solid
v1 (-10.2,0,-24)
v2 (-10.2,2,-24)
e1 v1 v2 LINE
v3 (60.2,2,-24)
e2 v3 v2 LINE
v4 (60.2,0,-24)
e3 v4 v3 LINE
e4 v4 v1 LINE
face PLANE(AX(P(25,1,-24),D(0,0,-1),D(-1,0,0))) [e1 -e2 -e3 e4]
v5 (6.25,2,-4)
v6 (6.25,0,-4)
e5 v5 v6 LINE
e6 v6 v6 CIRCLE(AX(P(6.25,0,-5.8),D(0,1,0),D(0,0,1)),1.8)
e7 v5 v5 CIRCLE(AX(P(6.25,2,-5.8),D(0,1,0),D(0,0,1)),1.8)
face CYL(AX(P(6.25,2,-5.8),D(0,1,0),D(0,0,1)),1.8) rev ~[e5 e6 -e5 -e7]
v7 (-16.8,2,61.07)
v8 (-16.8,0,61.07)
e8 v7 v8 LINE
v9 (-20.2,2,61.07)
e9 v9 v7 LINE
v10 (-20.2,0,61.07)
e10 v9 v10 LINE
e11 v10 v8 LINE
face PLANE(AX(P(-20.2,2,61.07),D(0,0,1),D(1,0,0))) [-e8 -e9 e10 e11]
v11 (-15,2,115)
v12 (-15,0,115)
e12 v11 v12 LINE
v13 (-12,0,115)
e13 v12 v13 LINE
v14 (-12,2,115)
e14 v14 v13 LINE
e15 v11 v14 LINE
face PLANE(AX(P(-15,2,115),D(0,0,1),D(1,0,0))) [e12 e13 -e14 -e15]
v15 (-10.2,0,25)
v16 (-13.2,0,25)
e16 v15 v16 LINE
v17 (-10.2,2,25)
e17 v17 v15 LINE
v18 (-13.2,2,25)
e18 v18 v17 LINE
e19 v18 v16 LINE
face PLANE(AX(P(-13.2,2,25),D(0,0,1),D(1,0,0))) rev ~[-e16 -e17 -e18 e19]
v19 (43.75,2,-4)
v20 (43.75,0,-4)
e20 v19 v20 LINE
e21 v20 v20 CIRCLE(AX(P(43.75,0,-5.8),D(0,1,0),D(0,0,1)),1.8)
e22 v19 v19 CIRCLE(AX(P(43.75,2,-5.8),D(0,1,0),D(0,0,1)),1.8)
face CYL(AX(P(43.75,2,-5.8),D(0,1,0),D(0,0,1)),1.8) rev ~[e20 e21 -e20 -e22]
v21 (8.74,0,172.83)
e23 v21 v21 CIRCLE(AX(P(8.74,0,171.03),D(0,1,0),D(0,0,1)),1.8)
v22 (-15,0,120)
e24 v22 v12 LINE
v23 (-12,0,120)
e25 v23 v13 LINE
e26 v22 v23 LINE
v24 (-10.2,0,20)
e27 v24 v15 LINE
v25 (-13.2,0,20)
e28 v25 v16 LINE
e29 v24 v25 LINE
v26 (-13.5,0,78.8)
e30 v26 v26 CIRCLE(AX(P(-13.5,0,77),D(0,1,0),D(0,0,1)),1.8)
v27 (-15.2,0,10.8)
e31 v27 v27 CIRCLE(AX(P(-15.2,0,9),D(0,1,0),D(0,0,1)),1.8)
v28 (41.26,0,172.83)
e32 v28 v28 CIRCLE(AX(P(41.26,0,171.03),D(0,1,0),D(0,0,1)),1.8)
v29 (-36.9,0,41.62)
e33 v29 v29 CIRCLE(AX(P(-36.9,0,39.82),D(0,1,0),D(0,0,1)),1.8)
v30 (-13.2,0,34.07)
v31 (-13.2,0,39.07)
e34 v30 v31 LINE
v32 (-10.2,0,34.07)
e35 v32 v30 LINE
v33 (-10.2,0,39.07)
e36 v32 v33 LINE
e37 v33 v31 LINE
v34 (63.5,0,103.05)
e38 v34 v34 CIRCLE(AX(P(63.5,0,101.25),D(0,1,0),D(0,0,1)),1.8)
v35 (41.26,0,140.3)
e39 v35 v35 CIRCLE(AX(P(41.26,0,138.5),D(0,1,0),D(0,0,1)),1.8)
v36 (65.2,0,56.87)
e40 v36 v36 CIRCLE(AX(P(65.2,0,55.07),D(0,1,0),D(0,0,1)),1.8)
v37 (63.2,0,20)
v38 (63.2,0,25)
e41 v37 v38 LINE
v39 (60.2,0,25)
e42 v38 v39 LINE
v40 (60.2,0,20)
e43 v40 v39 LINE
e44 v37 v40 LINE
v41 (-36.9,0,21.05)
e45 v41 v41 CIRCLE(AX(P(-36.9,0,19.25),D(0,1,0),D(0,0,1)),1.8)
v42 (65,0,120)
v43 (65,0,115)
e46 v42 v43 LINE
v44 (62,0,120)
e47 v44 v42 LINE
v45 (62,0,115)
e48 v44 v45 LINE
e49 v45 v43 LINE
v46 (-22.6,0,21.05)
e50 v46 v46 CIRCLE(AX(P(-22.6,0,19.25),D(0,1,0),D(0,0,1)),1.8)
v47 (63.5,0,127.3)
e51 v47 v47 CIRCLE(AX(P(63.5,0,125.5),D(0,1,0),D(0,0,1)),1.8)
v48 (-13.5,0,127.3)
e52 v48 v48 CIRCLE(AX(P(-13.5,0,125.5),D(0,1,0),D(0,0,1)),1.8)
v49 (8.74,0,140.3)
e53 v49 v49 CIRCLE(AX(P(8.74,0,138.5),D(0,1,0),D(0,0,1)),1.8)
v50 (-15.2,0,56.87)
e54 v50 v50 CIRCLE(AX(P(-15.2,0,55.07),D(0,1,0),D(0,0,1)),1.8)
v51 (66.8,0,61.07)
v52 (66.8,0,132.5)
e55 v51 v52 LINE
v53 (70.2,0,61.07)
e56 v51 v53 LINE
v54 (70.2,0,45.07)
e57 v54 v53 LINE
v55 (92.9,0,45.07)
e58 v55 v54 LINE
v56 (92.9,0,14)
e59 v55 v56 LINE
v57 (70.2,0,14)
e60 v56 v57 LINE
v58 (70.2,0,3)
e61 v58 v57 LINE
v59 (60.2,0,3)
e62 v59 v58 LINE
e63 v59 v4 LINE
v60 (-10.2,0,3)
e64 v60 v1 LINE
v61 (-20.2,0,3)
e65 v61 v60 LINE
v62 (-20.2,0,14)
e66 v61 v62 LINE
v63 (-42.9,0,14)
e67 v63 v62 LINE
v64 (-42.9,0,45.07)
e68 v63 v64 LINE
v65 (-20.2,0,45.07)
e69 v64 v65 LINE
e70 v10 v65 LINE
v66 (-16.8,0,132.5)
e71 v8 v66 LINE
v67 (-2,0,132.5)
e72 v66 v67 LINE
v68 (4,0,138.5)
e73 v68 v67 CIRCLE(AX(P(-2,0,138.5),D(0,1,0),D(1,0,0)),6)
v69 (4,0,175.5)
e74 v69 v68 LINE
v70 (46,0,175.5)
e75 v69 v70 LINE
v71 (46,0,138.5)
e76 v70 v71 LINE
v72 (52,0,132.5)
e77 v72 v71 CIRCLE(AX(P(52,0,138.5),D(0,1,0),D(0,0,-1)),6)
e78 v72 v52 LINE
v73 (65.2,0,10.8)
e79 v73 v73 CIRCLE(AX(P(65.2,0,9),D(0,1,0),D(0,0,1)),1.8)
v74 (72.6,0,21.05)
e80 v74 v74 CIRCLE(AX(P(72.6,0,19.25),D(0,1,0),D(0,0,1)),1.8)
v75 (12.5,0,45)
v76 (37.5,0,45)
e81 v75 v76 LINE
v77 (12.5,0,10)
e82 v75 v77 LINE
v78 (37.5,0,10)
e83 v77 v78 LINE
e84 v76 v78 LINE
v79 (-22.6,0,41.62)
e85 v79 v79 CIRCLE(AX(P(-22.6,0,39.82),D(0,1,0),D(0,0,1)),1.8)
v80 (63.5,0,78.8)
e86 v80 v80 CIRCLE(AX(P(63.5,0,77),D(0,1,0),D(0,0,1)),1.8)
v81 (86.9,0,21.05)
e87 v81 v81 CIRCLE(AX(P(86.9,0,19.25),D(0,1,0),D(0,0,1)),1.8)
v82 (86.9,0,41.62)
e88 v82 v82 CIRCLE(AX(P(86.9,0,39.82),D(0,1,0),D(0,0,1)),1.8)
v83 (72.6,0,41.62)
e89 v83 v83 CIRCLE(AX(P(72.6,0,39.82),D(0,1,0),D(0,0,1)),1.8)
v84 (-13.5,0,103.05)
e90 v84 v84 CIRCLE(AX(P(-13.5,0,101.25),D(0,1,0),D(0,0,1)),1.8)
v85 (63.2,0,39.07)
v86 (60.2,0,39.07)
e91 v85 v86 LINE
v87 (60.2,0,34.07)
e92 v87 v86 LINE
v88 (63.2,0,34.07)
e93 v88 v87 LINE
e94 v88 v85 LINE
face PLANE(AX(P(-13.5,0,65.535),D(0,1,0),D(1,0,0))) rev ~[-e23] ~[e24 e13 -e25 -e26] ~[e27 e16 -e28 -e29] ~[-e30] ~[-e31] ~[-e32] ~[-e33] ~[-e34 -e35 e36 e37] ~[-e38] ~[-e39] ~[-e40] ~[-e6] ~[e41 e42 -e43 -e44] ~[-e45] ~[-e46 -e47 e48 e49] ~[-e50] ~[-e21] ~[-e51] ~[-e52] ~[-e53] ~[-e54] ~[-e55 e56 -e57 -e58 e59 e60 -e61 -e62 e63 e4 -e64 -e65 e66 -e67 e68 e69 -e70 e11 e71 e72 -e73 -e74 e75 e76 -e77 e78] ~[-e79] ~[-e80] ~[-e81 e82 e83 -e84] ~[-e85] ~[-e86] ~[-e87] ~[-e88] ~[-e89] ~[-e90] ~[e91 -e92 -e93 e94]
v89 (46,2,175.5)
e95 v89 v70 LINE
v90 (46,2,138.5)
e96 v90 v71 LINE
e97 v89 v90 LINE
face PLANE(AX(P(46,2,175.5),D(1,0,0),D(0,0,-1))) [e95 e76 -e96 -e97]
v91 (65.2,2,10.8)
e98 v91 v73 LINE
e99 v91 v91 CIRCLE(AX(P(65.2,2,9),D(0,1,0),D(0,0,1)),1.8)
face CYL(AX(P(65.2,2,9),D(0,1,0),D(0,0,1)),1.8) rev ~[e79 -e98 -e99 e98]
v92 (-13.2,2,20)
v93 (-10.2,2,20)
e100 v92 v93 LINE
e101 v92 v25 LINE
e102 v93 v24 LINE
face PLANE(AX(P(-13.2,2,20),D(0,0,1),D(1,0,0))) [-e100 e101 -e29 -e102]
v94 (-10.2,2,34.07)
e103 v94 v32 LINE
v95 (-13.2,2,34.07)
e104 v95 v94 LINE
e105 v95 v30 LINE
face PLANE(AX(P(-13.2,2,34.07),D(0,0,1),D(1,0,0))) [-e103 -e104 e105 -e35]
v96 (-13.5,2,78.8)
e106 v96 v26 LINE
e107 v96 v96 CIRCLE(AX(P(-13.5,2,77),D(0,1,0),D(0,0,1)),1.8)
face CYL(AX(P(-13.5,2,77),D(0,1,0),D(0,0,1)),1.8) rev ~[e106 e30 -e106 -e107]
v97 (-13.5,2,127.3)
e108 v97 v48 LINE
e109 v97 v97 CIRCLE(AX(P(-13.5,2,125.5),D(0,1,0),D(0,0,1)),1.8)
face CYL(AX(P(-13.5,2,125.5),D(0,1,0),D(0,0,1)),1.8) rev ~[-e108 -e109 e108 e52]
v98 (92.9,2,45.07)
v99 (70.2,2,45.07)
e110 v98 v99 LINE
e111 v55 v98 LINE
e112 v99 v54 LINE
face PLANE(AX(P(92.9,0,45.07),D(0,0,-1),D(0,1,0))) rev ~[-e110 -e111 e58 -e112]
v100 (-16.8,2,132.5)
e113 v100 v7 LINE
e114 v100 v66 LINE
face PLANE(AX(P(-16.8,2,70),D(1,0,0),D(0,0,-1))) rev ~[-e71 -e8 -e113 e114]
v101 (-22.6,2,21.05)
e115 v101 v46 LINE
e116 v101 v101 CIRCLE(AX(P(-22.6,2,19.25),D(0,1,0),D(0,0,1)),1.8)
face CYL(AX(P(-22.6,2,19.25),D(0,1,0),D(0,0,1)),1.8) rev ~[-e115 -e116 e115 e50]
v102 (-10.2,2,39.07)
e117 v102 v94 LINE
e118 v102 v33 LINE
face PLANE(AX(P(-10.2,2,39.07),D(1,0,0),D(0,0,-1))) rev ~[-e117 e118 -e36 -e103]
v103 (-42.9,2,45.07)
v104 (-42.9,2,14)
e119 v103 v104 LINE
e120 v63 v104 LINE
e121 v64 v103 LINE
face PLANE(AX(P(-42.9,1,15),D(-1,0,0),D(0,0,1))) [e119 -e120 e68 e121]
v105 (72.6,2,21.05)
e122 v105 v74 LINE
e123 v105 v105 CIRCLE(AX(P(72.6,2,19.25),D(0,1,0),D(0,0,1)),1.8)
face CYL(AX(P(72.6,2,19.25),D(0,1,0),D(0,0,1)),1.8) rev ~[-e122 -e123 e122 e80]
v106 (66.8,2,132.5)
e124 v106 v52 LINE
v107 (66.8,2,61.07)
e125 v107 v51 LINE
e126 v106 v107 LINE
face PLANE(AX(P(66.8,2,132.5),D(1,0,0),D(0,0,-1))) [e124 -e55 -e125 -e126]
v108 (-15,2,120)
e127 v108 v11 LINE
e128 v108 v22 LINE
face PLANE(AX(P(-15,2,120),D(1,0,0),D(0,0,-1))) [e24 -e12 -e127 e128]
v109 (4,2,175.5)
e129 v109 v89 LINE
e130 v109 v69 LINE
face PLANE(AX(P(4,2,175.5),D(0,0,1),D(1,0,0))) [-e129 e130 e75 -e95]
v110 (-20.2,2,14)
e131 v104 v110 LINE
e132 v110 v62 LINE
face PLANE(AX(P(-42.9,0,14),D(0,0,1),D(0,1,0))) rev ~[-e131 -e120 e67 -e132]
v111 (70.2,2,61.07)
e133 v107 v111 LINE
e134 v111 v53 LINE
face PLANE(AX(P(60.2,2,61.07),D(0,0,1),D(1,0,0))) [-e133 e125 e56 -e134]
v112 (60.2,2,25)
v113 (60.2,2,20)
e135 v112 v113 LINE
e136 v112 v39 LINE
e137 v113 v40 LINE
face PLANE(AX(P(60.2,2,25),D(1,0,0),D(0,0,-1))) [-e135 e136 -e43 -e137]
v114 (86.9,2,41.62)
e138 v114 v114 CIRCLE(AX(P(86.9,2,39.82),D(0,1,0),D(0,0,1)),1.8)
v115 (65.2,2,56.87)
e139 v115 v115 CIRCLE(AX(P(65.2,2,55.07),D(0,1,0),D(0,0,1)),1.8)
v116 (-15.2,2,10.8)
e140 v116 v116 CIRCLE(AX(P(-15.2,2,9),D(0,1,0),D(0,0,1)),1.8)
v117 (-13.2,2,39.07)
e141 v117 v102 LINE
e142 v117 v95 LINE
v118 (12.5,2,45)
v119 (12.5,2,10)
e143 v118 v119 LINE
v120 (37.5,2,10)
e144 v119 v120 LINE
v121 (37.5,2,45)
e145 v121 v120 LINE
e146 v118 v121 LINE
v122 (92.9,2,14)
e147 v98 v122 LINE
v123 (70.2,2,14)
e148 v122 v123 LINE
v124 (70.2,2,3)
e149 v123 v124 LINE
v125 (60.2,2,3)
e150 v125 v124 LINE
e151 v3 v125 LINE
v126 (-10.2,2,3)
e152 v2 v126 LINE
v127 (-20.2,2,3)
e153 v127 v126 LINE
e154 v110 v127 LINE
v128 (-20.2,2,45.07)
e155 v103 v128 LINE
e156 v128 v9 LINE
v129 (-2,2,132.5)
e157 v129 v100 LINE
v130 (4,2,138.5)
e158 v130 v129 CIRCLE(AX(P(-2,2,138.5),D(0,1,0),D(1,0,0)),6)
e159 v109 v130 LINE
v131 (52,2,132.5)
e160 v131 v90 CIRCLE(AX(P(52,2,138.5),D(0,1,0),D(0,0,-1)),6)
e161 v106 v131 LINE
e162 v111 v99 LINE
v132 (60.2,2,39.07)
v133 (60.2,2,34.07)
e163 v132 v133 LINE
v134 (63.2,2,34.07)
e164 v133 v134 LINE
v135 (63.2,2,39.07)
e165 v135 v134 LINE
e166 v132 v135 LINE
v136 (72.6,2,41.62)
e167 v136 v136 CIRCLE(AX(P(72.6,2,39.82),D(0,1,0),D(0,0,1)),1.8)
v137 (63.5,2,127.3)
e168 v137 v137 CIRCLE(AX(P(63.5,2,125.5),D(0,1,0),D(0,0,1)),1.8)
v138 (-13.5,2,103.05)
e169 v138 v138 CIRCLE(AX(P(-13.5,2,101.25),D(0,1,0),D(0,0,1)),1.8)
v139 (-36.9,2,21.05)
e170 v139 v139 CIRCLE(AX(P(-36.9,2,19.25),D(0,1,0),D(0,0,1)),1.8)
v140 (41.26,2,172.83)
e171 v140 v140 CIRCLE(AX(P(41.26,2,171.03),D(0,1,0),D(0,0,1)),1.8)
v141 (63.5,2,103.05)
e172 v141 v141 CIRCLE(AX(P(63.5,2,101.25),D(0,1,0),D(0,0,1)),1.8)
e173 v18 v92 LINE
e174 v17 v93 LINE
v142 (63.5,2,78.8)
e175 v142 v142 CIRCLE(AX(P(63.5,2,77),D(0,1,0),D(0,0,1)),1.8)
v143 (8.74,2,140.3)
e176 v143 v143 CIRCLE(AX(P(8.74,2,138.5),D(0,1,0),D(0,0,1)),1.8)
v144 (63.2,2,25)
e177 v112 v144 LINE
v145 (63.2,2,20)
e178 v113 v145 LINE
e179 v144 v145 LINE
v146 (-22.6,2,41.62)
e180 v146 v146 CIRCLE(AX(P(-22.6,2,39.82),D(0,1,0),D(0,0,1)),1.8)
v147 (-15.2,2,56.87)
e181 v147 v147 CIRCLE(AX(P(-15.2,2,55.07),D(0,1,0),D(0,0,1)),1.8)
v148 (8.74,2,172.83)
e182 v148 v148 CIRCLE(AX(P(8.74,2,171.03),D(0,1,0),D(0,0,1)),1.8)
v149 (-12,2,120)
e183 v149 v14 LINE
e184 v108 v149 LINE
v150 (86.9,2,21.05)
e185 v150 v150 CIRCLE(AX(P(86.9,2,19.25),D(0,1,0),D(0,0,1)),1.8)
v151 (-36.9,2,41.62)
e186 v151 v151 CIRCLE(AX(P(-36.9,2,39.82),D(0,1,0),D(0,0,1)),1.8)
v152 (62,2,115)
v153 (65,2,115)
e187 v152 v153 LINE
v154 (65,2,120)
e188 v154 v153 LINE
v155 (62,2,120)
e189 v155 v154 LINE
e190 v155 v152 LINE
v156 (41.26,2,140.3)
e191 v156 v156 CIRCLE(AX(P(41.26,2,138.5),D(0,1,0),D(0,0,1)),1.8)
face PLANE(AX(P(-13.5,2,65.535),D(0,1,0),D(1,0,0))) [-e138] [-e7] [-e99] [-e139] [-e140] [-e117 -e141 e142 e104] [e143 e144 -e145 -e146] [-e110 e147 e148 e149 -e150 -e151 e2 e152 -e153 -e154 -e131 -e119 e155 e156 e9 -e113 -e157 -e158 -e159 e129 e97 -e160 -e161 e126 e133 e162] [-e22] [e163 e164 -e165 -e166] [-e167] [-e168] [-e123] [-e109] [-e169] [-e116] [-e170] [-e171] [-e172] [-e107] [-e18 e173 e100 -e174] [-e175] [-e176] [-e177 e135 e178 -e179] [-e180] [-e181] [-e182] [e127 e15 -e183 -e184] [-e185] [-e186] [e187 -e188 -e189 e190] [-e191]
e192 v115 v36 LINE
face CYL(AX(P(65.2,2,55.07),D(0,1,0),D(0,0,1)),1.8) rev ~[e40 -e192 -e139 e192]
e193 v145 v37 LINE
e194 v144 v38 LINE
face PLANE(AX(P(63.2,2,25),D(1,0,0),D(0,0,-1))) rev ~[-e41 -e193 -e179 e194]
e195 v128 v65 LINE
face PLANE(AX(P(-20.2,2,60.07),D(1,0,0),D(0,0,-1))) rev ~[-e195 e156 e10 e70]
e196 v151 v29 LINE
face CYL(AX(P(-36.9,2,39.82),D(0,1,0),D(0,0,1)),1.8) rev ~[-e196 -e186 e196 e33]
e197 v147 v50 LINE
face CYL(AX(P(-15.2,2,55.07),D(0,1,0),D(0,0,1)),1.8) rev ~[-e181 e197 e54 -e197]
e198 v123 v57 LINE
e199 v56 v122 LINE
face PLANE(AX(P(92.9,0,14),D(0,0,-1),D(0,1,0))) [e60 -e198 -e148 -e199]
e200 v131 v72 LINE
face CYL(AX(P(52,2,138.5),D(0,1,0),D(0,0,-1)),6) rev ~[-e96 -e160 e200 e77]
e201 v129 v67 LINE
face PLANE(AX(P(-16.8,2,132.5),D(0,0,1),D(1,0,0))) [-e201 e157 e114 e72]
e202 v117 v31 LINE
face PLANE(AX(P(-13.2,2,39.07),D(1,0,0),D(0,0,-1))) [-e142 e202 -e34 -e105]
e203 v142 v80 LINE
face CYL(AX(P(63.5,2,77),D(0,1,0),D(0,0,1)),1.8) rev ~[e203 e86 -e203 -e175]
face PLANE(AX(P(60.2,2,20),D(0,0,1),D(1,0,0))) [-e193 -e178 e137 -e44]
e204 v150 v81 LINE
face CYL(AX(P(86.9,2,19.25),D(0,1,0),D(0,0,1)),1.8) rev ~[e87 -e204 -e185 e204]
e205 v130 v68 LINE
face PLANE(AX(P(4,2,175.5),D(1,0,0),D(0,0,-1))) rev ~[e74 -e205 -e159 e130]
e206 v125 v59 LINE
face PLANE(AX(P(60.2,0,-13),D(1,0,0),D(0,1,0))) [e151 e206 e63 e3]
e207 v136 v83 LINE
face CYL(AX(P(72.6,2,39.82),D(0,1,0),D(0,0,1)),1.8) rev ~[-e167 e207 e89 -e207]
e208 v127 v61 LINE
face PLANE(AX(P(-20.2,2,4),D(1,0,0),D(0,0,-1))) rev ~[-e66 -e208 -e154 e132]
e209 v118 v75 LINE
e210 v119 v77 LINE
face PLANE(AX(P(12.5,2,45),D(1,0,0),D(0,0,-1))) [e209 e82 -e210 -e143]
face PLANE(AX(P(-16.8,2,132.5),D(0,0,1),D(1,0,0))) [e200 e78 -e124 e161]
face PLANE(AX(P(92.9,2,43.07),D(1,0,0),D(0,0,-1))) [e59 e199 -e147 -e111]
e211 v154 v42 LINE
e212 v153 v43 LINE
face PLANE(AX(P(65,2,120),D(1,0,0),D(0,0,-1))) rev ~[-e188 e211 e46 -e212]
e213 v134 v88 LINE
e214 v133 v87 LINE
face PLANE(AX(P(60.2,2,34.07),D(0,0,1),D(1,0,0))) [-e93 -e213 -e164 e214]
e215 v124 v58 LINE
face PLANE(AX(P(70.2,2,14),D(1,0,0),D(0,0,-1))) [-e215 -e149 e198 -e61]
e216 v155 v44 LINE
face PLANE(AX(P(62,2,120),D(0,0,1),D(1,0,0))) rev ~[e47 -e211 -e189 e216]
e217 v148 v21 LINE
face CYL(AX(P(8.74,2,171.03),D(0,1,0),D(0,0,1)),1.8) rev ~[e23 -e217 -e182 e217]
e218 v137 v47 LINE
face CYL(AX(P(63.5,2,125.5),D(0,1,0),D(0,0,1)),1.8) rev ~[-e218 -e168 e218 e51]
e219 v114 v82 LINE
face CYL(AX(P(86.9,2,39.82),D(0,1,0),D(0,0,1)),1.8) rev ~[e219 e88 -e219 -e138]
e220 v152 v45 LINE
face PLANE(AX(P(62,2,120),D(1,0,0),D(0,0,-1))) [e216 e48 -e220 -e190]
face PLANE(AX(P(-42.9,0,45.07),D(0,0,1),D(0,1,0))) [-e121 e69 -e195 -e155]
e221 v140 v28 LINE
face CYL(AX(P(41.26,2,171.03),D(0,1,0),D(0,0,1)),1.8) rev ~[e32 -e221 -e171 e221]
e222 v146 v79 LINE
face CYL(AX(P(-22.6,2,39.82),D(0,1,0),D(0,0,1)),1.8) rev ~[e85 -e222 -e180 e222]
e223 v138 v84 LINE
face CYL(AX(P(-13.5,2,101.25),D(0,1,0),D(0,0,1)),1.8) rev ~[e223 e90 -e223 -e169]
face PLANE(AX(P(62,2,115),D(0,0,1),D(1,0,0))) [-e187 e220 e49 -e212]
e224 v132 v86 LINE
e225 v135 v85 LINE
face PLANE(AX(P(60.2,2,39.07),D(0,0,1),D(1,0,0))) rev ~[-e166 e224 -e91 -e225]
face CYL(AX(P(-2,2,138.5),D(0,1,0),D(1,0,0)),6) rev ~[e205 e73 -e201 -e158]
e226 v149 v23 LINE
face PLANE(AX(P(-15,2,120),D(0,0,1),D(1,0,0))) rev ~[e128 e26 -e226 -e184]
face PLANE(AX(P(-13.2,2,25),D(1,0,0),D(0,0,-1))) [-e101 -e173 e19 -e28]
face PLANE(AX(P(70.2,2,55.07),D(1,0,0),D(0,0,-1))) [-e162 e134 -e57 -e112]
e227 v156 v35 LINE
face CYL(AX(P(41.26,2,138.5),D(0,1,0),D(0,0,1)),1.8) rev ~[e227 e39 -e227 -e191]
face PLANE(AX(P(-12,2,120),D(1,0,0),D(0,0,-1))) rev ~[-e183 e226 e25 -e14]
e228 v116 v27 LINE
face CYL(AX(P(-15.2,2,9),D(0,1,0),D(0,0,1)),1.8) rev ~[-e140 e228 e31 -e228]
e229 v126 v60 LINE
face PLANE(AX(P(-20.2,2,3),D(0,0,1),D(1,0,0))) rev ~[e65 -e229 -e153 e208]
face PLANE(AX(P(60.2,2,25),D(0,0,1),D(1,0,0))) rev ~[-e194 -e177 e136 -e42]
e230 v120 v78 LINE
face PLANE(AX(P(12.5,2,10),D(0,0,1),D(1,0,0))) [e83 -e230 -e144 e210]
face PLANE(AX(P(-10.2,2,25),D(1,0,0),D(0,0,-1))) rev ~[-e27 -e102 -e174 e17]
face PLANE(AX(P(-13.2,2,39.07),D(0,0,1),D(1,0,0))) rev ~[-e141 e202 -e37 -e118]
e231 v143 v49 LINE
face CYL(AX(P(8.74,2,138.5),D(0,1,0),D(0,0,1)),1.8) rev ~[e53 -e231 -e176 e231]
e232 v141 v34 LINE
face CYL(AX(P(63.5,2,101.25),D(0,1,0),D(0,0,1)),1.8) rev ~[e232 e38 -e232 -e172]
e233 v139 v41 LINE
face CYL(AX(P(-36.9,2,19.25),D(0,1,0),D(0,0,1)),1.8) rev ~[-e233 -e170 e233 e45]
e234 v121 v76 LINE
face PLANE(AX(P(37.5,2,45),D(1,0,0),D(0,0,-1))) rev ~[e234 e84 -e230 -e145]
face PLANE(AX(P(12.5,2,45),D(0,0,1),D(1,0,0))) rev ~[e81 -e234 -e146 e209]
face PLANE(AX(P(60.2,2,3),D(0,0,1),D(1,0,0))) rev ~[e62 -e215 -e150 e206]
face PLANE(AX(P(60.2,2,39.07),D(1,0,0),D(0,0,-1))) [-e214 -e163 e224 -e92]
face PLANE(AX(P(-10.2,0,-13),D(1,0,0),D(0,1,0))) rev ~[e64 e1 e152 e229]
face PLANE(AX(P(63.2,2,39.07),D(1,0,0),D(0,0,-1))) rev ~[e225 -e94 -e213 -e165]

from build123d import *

# Parameters (mm, degrees)
SKETCH1_W            = 50
SKETCH1_H            = 9.1
BOSS_EXTRUDE1_DEPTH  = 2
SKETCH2_W            = 25
SKETCH2_H            = 6.6
CUT_EXTRUDE1_DEPTH   = 2
SKETCH3_R            = 1.8
CUT_EXTRUDE2_DEPTH   = 2
SKETCH4_W            = 66.4
SKETCH4_H            = 130
BOSS_EXTRUDE2_DEPTH  = 2
SKETCH5_W            = 66.4
SKETCH5_H            = 2
BOSS_EXTRUDE3_DEPTH  = 2.5
SKETCH6_W            = 8.6
SKETCH6_H            = 62.5
BOSS_EXTRUDE4_DEPTH  = 2
SKETCH7_R            = 1.8
SKETCH7_W            = 3
SKETCH7_H            = 5
CUT_EXTRUDE3_DEPTH   = 2
SKETCH8_W            = 25
SKETCH8_H            = 45
CUT_EXTRUDE4_DEPTH   = 20
SKETCH9_W            = 25
SKETCH9_H            = 10
BOSS_EXTRUDE5_DEPTH  = 2
SKETCH10_W           = 34.7
SKETCH10_H           = 27.07
BOSS_EXTRUDE6_DEPTH  = 2
SKETCH11_R           = 1.8
CUT_EXTRUDE5_DEPTH   = 2
SKETCH12_R           = 1.8
CUT_EXTRUDE6_DEPTH   = 2
SKETCH13_W           = 2
SKETCH13_H           = 2
BOSS_EXTRUDE7_DEPTH  = 44
SKETCH14_W           = 2
SKETCH14_H           = 2
BOSS_EXTRUDE8_DEPTH  = 46
SKETCH16_W           = 42
SKETCH16_H           = 43
BOSS_EXTRUDE10_DEPTH = 2
SKETCH18_R           = 1.8
CUT_EXTRUDE7_DEPTH   = 2
BOSS_EXTRUDE12_DEPTH = 2
SKETCH21_W           = 2
SKETCH21_H           = 2
BOSS_EXTRUDE13_DEPTH = 10
SKETCH25_W           = 3
SKETCH25_H           = 5
CUT_EXTRUDE8_DEPTH   = 10
SKETCH26_W           = 6.2
SKETCH26_H           = 13
SKETCH26_W_2         = 21
SKETCH26_H_2         = 6.6
BOSS_EXTRUDE14_DEPTH = 2
SKETCH27_W           = 2
SKETCH27_H           = 27
SKETCH27_H_2         = 24.93
BOSS_EXTRUDE15_DEPTH = 2
SKETCH29_W           = 10
SKETCH29_H           = 10
BOSS_EXTRUDE19_DEPTH = 2
SKETCH41_R           = 1.8
CUT_EXTRUDE15_DEPTH  = 2
BOSS_EXTRUDE26_DEPTH = 2
SKETCH43_W           = 70.4
SKETCH43_H           = 2
BOSS_EXTRUDE27_DEPTH = 11
SKETCH44_W           = 10
SKETCH44_H           = 5
BOSS_EXTRUDE28_DEPTH = 2
SKETCH45_R           = 1.8
BOSS_EXTRUDE29_DEPTH = 2
SKETCH46_R           = 1.8
CUT_EXTRUDE16_DEPTH  = 2
SKETCH47_W           = 10
SKETCH47_H           = 1
BOSS_EXTRUDE30_DEPTH = 2
SKETCH48_W           = 6.6
SKETCH48_H           = 8.93
BOSS_EXTRUDE31_DEPTH = 2


with BuildPart() as part:
    # Sketch1 → Boss-Extrude1 (new body)
    with BuildSketch(Plane(origin=(0, 0, 0), x_dir=(1, 0, 0), z_dir=(0, 1, 0))):
        with Locations((25, 4.55)):
            Rectangle(SKETCH1_W, SKETCH1_H)
    extrude(amount=BOSS_EXTRUDE1_DEPTH)

    # Sketch2 → Cut-Extrude1 (cut)
    with BuildSketch(Plane(origin=(0, 2, 0), x_dir=(1, 0, 0), z_dir=(0, 1, 0))):
        with Locations((25, 5.8)):
            Rectangle(SKETCH2_W, SKETCH2_H)
    extrude(amount=-CUT_EXTRUDE1_DEPTH, mode=Mode.SUBTRACT)

    # Sketch3 → Cut-Extrude2 (cut)
    with BuildSketch(Plane(origin=(0, 2, 0), x_dir=(1, 0, 0), z_dir=(0, 1, 0))):
        with Locations(Location((6.25, 5.8, 0), (0, 0, 270))):
            Circle(SKETCH3_R)
        with Locations(Location((43.75, 5.8, 0), (0, 0, 270))):
            Circle(SKETCH3_R)
    extrude(amount=-CUT_EXTRUDE2_DEPTH, mode=Mode.SUBTRACT)

    # Sketch4 → Boss-Extrude2 (add)
    with BuildSketch(Plane(origin=(0, 2, 0), x_dir=(1, 0, 0), z_dir=(0, 1, 0))):
        with Locations((25, -65)):
            Rectangle(SKETCH4_W, SKETCH4_H)
    extrude(amount=-BOSS_EXTRUDE2_DEPTH)

    # Sketch5 → Boss-Extrude3 (add)
    with BuildSketch(Plane.XY.offset(130)):
        with Locations((25, 1)):
            Rectangle(SKETCH5_W, SKETCH5_H)
    extrude(amount=BOSS_EXTRUDE3_DEPTH)

    # Sketch6 → Boss-Extrude4 (add)
    with BuildSketch(Plane(origin=(0, 2, 0), x_dir=(1, 0, 0), z_dir=(0, 1, 0))):
        with Locations((-12.5, -101.25)):
            Rectangle(SKETCH6_W, SKETCH6_H)
        with Locations((62.5, -101.25)):
            Rectangle(SKETCH6_W, SKETCH6_H)
    extrude(amount=-BOSS_EXTRUDE4_DEPTH)

    # Sketch7 → Cut-Extrude3 (cut)
    with BuildSketch(Plane(origin=(0, 2, 0), x_dir=(1, 0, 0), z_dir=(0, 1, 0))):
        with Locations(Location((-13.5, -77, 0), (0, 0, 270))):
            Circle(SKETCH7_R)
        with Locations(Location((-13.5, -101.25, 0), (0, 0, 270))):
            Circle(SKETCH7_R)
        with Locations(Location((-13.5, -125.5, 0), (0, 0, 270))):
            Circle(SKETCH7_R)
        with Locations(Location((63.5, -77, 0), (0, 0, 270))):
            Circle(SKETCH7_R)
        with Locations(Location((63.5, -101.25, 0), (0, 0, 270))):
            Circle(SKETCH7_R)
        with Locations(Location((63.5, -125.5, 0), (0, 0, 270))):
            Circle(SKETCH7_R)
        with Locations((-13.5, -117.5)):
            Rectangle(SKETCH7_W, SKETCH7_H)
        with Locations((63.5, -117.5)):
            Rectangle(SKETCH7_W, SKETCH7_H)
    extrude(amount=-CUT_EXTRUDE3_DEPTH, mode=Mode.SUBTRACT)

    # Sketch8 → Cut-Extrude4 (cut)
    with BuildSketch(Plane(origin=(0, 2, 0), x_dir=(1, 0, 0), z_dir=(0, 1, 0))):
        with Locations((25, -22.5)):
            Rectangle(SKETCH8_W, SKETCH8_H)
    extrude(amount=-CUT_EXTRUDE4_DEPTH, mode=Mode.SUBTRACT)

    # Sketch9 → Boss-Extrude5 (add)
    with BuildSketch(Plane(origin=(0, 2, 0), x_dir=(1, 0, 0), z_dir=(0, 1, 0))):
        with Locations((25, -5)):
            Rectangle(SKETCH9_W, SKETCH9_H)
    extrude(amount=-BOSS_EXTRUDE5_DEPTH)

    # Sketch10 → Boss-Extrude6 (add)
    with BuildSketch(Plane(origin=(0, 2, 0), x_dir=(1, 0, 0), z_dir=(0, 1, 0))):
        with Locations((-25.55, -29.535)):
            Rectangle(SKETCH10_W, SKETCH10_H)
        with Locations((75.55, -29.535)):
            Rectangle(SKETCH10_W, SKETCH10_H)
    extrude(amount=-BOSS_EXTRUDE6_DEPTH)

    # Sketch11 → Cut-Extrude5 (cut)
    with BuildSketch(Plane(origin=(0, 2, 0), x_dir=(1, 0, 0), z_dir=(0, 1, 0))):
        with Locations(Location((-36.9, -19.25, 0), (0, 0, 270))):
            Circle(SKETCH11_R)
        with Locations(Location((-36.9, -39.82, 0), (0, 0, 270))):
            Circle(SKETCH11_R)
        with Locations(Location((-22.6, -19.25, 0), (0, 0, 270))):
            Circle(SKETCH11_R)
        with Locations(Location((-22.6, -39.82, 0), (0, 0, 270))):
            Circle(SKETCH11_R)
    extrude(amount=-CUT_EXTRUDE5_DEPTH, mode=Mode.SUBTRACT)

    # Sketch12 → Cut-Extrude6 (cut)
    with BuildSketch(Plane(origin=(0, 2, 0), x_dir=(1, 0, 0), z_dir=(0, 1, 0))):
        with Locations(Location((72.6, -19.25, 0), (0, 0, 270))):
            Circle(SKETCH12_R)
        with Locations(Location((86.9, -19.25, 0), (0, 0, 270))):
            Circle(SKETCH12_R)
        with Locations(Location((72.6, -39.82, 0), (0, 0, 270))):
            Circle(SKETCH12_R)
        with Locations(Location((86.9, -39.82, 0), (0, 0, 270))):
            Circle(SKETCH12_R)
    extrude(amount=-CUT_EXTRUDE6_DEPTH, mode=Mode.SUBTRACT)

    # Sketch13 → Boss-Extrude7 (add)
    with BuildSketch(Plane.ZY.offset(42.9)):
        with Locations((15, 1)):
            Rectangle(SKETCH13_W, SKETCH13_H)
        with Locations((44.07, 1)):
            Rectangle(SKETCH13_W, SKETCH13_H)
    extrude(amount=-BOSS_EXTRUDE7_DEPTH)

    # Sketch14 → Boss-Extrude8 (add)
    with BuildSketch(Plane(origin=(92.9, 0, 0), x_dir=(0, 0, -1), z_dir=(1, 0, 0))):
        with Locations((-15, 1)):
            Rectangle(SKETCH14_W, SKETCH14_H)
        with Locations((-44.07, 1)):
            Rectangle(SKETCH14_W, SKETCH14_H)
    extrude(amount=-BOSS_EXTRUDE8_DEPTH)

    # Sketch16 → Boss-Extrude10 (add)
    with BuildSketch(Plane(origin=(0, 2, 0), x_dir=(1, 0, 0), z_dir=(0, 1, 0))):
        with Locations((25, -154)):
            Rectangle(SKETCH16_W, SKETCH16_H)
    extrude(amount=-BOSS_EXTRUDE10_DEPTH)

    # Sketch18 → Cut-Extrude7 (cut)
    with BuildSketch(Plane(origin=(0, 2, 0), x_dir=(1, 0, 0), z_dir=(0, 1, 0))):
        with Locations(Location((8.74, -171.03, 0), (0, 0, 270))):
            Circle(SKETCH18_R)
        with Locations(Location((41.26, -171.03, 0), (0, 0, 270))):
            Circle(SKETCH18_R)
        with Locations(Location((8.74, -138.5, 0), (0, 0, 270))):
            Circle(SKETCH18_R)
        with Locations(Location((41.26, -138.5, 0), (0, 0, 270))):
            Circle(SKETCH18_R)
    extrude(amount=-CUT_EXTRUDE7_DEPTH, mode=Mode.SUBTRACT)

    # Sketch20 → Boss-Extrude12 (add)
    with BuildSketch(Plane(origin=(0, 2, 0), x_dir=(1, 0, 0), z_dir=(0, 1, 0))):
        with BuildLine():
            Line((-2, -132.5), (4, -132.5))
            Line((4, -132.5), (4, -138.5))
            ThreePointArc((4, -138.5), (2.242640687, -134.257359313), (-2, -132.5))
        make_face()
        with BuildLine():
            ThreePointArc((52, -132.5), (47.757359313, -134.257359313), (46, -138.5))
            Line((46, -138.5), (46, -132.5))
            Line((46, -132.5), (52, -132.5))
        make_face()
    extrude(amount=-BOSS_EXTRUDE12_DEPTH)

    # Sketch21 → Boss-Extrude13 (add)
    with BuildSketch(Plane(origin=(0, 0, -9.1), x_dir=(-1, 0, 0), z_dir=(0, 0, -1))):
        with Locations((-51, 1)):
            Rectangle(SKETCH21_W, SKETCH21_H)
        with Locations((-36.5, 1)):
            Rectangle(SKETCH21_W, SKETCH21_H)
        with Locations((-13.5, 1)):
            Rectangle(SKETCH21_W, SKETCH21_H)
        with Locations((1, 1)):
            Rectangle(SKETCH21_W, SKETCH21_H)
    extrude(amount=-BOSS_EXTRUDE13_DEPTH)

    # Sketch25 → Cut-Extrude8 (cut)
    with BuildSketch(Plane(origin=(0, 2, 0), x_dir=(1, 0, 0), z_dir=(0, 1, 0))):
        with Locations((-11.7, -22.5)):
            Rectangle(SKETCH25_W, SKETCH25_H)
        with Locations((-11.7, -36.57)):
            Rectangle(SKETCH25_W, SKETCH25_H)
        with Locations((61.7, -22.5)):
            Rectangle(SKETCH25_W, SKETCH25_H)
        with Locations((61.7, -36.57)):
            Rectangle(SKETCH25_W, SKETCH25_H)
    extrude(amount=-CUT_EXTRUDE8_DEPTH, mode=Mode.SUBTRACT)

    # Sketch26 → Boss-Extrude14 (add)
    with BuildSketch(Plane(origin=(0, 2, 0), x_dir=(1, 0, 0), z_dir=(0, 1, 0))):
        with Locations((-5.1, 6.5)):
            Rectangle(SKETCH26_W, SKETCH26_H)
        Polygon((-2, 13), (-2, 9.1), (14.5, 9.1), (35.5, 9.1), (52, 9.1), (52, 13), align=None)
        with Locations((25, 5.8)):
            Rectangle(SKETCH26_W_2, SKETCH26_H_2)
        with Locations((55.1, 6.5)):
            Rectangle(SKETCH26_W, SKETCH26_H)
    extrude(amount=-BOSS_EXTRUDE14_DEPTH)

    # Sketch27 → Boss-Extrude15 (add)
    with BuildSketch(Plane(origin=(0, 2, 0), x_dir=(1, 0, 0), z_dir=(0, 1, 0))):
        with Locations((-9.2, -0.5)):
            Rectangle(SKETCH27_W, SKETCH27_H)
        with Locations((-9.2, -57.535)):
            Rectangle(SKETCH27_W, SKETCH27_H_2)
        with Locations((59.2, -0.5)):
            Rectangle(SKETCH27_W, SKETCH27_H)
        with Locations((59.2, -57.535)):
            Rectangle(SKETCH27_W, SKETCH27_H_2)
    extrude(amount=-BOSS_EXTRUDE15_DEPTH)

    # Sketch29 → Boss-Extrude19 (add)
    with BuildSketch(Plane(origin=(0, 2, 0), x_dir=(1, 0, 0), z_dir=(0, 1, 0))):
        with Locations((-15.2, -9)):
            Rectangle(SKETCH29_W, SKETCH29_H)
        with Locations((-15.2, -50.07)):
            Rectangle(SKETCH29_W, SKETCH29_H)
        with Locations((65.2, -9)):
            Rectangle(SKETCH29_W, SKETCH29_H)
        with Locations((65.2, -50.07)):
            Rectangle(SKETCH29_W, SKETCH29_H)
    extrude(amount=-BOSS_EXTRUDE19_DEPTH)

    # Sketch41 → Cut-Extrude15 (cut)
    with BuildSketch(Plane(origin=(0, 2, 0), x_dir=(1, 0, 0), z_dir=(0, 1, 0))):
        with Locations(Location((-15.2, -9, 0), (0, 0, 270))):
            Circle(SKETCH41_R)
        with Locations(Location((-15.2, -50.07, 0), (0, 0, 270))):
            Circle(SKETCH41_R)
        with Locations(Location((65.2, -9, 0), (0, 0, 270))):
            Circle(SKETCH41_R)
        with Locations(Location((65.2, -50.07, 0), (0, 0, 270))):
            Circle(SKETCH41_R)
    extrude(amount=-CUT_EXTRUDE15_DEPTH, mode=Mode.SUBTRACT)

    # Sketch42 → Boss-Extrude26 (add)
    with BuildSketch(Plane(origin=(0, 2, 0), x_dir=(1, 0, 0), z_dir=(0, 1, 0))):
        with BuildLine():
            Line((-16.8, -70), (-10.2, -70))
            Line((-10.2, -70), (-10.2, -63.4))
            ThreePointArc((-10.2, -63.4), (-12.133095244, -68.066904756), (-16.8, -70))
        make_face()
        with BuildLine():
            Line((60.2, -63.4), (60.2, -70))
            Line((60.2, -70), (66.8, -70))
            ThreePointArc((66.8, -70), (62.133095244, -68.066904756), (60.2, -63.4))
        make_face()
    extrude(amount=-BOSS_EXTRUDE26_DEPTH)

    # Sketch43 → Boss-Extrude27 (add)
    with BuildSketch(Plane(origin=(0, 0, -13), x_dir=(-1, 0, 0), z_dir=(0, 0, -1))):
        with Locations((-25, 1)):
            Rectangle(SKETCH43_W, SKETCH43_H)
    extrude(amount=BOSS_EXTRUDE27_DEPTH)

    # Sketch44 → Boss-Extrude28 (add)
    with BuildSketch(Plane(origin=(0, 2, 0), x_dir=(1, 0, 0), z_dir=(0, 1, 0))):
        with Locations((-15.2, -57.57)):
            Rectangle(SKETCH44_W, SKETCH44_H)
        with Locations((65.2, -57.57)):
            Rectangle(SKETCH44_W, SKETCH44_H)
    extrude(amount=-BOSS_EXTRUDE28_DEPTH)

    # Sketch45 → Boss-Extrude29 (add)
    with BuildSketch(Plane(origin=(0, 2, 0), x_dir=(1, 0, 0), z_dir=(0, 1, 0))):
        with Locations((-15.2, -50.07)):
            Circle(SKETCH45_R)
        with Locations((65.2, -50.07)):
            Circle(SKETCH45_R)
    extrude(amount=-BOSS_EXTRUDE29_DEPTH)

    # Sketch46 → Cut-Extrude16 (cut)
    with BuildSketch(Plane(origin=(0, 2, 0), x_dir=(1, 0, 0), z_dir=(0, 1, 0))):
        with Locations(Location((-15.2, -55.07, 0), (0, 0, 270))):
            Circle(SKETCH46_R)
        with Locations(Location((65.2, -55.07, 0), (0, 0, 270))):
            Circle(SKETCH46_R)
    extrude(amount=-CUT_EXTRUDE16_DEPTH, mode=Mode.SUBTRACT)

    # Sketch47 → Boss-Extrude30 (add)
    with BuildSketch(Plane(origin=(0, 2, 0), x_dir=(1, 0, 0), z_dir=(0, 1, 0))):
        with Locations((-15.2, -3.5)):
            Rectangle(SKETCH47_W, SKETCH47_H)
        with Locations((-15.2, -60.57)):
            Rectangle(SKETCH47_W, SKETCH47_H)
        with Locations((65.2, -3.5)):
            Rectangle(SKETCH47_W, SKETCH47_H)
        with Locations((65.2, -60.57)):
            Rectangle(SKETCH47_W, SKETCH47_H)
    extrude(amount=-BOSS_EXTRUDE30_DEPTH)

    # Sketch48 → Boss-Extrude31 (add)
    with BuildSketch(Plane(origin=(0, 2, 0), x_dir=(1, 0, 0), z_dir=(0, 1, 0))):
        with Locations((-13.5, -65.535)):
            Rectangle(SKETCH48_W, SKETCH48_H)
        with Locations((63.5, -65.535)):
            Rectangle(SKETCH48_W, SKETCH48_H)
    extrude(amount=-BOSS_EXTRUDE31_DEPTH)


solid = part.part
